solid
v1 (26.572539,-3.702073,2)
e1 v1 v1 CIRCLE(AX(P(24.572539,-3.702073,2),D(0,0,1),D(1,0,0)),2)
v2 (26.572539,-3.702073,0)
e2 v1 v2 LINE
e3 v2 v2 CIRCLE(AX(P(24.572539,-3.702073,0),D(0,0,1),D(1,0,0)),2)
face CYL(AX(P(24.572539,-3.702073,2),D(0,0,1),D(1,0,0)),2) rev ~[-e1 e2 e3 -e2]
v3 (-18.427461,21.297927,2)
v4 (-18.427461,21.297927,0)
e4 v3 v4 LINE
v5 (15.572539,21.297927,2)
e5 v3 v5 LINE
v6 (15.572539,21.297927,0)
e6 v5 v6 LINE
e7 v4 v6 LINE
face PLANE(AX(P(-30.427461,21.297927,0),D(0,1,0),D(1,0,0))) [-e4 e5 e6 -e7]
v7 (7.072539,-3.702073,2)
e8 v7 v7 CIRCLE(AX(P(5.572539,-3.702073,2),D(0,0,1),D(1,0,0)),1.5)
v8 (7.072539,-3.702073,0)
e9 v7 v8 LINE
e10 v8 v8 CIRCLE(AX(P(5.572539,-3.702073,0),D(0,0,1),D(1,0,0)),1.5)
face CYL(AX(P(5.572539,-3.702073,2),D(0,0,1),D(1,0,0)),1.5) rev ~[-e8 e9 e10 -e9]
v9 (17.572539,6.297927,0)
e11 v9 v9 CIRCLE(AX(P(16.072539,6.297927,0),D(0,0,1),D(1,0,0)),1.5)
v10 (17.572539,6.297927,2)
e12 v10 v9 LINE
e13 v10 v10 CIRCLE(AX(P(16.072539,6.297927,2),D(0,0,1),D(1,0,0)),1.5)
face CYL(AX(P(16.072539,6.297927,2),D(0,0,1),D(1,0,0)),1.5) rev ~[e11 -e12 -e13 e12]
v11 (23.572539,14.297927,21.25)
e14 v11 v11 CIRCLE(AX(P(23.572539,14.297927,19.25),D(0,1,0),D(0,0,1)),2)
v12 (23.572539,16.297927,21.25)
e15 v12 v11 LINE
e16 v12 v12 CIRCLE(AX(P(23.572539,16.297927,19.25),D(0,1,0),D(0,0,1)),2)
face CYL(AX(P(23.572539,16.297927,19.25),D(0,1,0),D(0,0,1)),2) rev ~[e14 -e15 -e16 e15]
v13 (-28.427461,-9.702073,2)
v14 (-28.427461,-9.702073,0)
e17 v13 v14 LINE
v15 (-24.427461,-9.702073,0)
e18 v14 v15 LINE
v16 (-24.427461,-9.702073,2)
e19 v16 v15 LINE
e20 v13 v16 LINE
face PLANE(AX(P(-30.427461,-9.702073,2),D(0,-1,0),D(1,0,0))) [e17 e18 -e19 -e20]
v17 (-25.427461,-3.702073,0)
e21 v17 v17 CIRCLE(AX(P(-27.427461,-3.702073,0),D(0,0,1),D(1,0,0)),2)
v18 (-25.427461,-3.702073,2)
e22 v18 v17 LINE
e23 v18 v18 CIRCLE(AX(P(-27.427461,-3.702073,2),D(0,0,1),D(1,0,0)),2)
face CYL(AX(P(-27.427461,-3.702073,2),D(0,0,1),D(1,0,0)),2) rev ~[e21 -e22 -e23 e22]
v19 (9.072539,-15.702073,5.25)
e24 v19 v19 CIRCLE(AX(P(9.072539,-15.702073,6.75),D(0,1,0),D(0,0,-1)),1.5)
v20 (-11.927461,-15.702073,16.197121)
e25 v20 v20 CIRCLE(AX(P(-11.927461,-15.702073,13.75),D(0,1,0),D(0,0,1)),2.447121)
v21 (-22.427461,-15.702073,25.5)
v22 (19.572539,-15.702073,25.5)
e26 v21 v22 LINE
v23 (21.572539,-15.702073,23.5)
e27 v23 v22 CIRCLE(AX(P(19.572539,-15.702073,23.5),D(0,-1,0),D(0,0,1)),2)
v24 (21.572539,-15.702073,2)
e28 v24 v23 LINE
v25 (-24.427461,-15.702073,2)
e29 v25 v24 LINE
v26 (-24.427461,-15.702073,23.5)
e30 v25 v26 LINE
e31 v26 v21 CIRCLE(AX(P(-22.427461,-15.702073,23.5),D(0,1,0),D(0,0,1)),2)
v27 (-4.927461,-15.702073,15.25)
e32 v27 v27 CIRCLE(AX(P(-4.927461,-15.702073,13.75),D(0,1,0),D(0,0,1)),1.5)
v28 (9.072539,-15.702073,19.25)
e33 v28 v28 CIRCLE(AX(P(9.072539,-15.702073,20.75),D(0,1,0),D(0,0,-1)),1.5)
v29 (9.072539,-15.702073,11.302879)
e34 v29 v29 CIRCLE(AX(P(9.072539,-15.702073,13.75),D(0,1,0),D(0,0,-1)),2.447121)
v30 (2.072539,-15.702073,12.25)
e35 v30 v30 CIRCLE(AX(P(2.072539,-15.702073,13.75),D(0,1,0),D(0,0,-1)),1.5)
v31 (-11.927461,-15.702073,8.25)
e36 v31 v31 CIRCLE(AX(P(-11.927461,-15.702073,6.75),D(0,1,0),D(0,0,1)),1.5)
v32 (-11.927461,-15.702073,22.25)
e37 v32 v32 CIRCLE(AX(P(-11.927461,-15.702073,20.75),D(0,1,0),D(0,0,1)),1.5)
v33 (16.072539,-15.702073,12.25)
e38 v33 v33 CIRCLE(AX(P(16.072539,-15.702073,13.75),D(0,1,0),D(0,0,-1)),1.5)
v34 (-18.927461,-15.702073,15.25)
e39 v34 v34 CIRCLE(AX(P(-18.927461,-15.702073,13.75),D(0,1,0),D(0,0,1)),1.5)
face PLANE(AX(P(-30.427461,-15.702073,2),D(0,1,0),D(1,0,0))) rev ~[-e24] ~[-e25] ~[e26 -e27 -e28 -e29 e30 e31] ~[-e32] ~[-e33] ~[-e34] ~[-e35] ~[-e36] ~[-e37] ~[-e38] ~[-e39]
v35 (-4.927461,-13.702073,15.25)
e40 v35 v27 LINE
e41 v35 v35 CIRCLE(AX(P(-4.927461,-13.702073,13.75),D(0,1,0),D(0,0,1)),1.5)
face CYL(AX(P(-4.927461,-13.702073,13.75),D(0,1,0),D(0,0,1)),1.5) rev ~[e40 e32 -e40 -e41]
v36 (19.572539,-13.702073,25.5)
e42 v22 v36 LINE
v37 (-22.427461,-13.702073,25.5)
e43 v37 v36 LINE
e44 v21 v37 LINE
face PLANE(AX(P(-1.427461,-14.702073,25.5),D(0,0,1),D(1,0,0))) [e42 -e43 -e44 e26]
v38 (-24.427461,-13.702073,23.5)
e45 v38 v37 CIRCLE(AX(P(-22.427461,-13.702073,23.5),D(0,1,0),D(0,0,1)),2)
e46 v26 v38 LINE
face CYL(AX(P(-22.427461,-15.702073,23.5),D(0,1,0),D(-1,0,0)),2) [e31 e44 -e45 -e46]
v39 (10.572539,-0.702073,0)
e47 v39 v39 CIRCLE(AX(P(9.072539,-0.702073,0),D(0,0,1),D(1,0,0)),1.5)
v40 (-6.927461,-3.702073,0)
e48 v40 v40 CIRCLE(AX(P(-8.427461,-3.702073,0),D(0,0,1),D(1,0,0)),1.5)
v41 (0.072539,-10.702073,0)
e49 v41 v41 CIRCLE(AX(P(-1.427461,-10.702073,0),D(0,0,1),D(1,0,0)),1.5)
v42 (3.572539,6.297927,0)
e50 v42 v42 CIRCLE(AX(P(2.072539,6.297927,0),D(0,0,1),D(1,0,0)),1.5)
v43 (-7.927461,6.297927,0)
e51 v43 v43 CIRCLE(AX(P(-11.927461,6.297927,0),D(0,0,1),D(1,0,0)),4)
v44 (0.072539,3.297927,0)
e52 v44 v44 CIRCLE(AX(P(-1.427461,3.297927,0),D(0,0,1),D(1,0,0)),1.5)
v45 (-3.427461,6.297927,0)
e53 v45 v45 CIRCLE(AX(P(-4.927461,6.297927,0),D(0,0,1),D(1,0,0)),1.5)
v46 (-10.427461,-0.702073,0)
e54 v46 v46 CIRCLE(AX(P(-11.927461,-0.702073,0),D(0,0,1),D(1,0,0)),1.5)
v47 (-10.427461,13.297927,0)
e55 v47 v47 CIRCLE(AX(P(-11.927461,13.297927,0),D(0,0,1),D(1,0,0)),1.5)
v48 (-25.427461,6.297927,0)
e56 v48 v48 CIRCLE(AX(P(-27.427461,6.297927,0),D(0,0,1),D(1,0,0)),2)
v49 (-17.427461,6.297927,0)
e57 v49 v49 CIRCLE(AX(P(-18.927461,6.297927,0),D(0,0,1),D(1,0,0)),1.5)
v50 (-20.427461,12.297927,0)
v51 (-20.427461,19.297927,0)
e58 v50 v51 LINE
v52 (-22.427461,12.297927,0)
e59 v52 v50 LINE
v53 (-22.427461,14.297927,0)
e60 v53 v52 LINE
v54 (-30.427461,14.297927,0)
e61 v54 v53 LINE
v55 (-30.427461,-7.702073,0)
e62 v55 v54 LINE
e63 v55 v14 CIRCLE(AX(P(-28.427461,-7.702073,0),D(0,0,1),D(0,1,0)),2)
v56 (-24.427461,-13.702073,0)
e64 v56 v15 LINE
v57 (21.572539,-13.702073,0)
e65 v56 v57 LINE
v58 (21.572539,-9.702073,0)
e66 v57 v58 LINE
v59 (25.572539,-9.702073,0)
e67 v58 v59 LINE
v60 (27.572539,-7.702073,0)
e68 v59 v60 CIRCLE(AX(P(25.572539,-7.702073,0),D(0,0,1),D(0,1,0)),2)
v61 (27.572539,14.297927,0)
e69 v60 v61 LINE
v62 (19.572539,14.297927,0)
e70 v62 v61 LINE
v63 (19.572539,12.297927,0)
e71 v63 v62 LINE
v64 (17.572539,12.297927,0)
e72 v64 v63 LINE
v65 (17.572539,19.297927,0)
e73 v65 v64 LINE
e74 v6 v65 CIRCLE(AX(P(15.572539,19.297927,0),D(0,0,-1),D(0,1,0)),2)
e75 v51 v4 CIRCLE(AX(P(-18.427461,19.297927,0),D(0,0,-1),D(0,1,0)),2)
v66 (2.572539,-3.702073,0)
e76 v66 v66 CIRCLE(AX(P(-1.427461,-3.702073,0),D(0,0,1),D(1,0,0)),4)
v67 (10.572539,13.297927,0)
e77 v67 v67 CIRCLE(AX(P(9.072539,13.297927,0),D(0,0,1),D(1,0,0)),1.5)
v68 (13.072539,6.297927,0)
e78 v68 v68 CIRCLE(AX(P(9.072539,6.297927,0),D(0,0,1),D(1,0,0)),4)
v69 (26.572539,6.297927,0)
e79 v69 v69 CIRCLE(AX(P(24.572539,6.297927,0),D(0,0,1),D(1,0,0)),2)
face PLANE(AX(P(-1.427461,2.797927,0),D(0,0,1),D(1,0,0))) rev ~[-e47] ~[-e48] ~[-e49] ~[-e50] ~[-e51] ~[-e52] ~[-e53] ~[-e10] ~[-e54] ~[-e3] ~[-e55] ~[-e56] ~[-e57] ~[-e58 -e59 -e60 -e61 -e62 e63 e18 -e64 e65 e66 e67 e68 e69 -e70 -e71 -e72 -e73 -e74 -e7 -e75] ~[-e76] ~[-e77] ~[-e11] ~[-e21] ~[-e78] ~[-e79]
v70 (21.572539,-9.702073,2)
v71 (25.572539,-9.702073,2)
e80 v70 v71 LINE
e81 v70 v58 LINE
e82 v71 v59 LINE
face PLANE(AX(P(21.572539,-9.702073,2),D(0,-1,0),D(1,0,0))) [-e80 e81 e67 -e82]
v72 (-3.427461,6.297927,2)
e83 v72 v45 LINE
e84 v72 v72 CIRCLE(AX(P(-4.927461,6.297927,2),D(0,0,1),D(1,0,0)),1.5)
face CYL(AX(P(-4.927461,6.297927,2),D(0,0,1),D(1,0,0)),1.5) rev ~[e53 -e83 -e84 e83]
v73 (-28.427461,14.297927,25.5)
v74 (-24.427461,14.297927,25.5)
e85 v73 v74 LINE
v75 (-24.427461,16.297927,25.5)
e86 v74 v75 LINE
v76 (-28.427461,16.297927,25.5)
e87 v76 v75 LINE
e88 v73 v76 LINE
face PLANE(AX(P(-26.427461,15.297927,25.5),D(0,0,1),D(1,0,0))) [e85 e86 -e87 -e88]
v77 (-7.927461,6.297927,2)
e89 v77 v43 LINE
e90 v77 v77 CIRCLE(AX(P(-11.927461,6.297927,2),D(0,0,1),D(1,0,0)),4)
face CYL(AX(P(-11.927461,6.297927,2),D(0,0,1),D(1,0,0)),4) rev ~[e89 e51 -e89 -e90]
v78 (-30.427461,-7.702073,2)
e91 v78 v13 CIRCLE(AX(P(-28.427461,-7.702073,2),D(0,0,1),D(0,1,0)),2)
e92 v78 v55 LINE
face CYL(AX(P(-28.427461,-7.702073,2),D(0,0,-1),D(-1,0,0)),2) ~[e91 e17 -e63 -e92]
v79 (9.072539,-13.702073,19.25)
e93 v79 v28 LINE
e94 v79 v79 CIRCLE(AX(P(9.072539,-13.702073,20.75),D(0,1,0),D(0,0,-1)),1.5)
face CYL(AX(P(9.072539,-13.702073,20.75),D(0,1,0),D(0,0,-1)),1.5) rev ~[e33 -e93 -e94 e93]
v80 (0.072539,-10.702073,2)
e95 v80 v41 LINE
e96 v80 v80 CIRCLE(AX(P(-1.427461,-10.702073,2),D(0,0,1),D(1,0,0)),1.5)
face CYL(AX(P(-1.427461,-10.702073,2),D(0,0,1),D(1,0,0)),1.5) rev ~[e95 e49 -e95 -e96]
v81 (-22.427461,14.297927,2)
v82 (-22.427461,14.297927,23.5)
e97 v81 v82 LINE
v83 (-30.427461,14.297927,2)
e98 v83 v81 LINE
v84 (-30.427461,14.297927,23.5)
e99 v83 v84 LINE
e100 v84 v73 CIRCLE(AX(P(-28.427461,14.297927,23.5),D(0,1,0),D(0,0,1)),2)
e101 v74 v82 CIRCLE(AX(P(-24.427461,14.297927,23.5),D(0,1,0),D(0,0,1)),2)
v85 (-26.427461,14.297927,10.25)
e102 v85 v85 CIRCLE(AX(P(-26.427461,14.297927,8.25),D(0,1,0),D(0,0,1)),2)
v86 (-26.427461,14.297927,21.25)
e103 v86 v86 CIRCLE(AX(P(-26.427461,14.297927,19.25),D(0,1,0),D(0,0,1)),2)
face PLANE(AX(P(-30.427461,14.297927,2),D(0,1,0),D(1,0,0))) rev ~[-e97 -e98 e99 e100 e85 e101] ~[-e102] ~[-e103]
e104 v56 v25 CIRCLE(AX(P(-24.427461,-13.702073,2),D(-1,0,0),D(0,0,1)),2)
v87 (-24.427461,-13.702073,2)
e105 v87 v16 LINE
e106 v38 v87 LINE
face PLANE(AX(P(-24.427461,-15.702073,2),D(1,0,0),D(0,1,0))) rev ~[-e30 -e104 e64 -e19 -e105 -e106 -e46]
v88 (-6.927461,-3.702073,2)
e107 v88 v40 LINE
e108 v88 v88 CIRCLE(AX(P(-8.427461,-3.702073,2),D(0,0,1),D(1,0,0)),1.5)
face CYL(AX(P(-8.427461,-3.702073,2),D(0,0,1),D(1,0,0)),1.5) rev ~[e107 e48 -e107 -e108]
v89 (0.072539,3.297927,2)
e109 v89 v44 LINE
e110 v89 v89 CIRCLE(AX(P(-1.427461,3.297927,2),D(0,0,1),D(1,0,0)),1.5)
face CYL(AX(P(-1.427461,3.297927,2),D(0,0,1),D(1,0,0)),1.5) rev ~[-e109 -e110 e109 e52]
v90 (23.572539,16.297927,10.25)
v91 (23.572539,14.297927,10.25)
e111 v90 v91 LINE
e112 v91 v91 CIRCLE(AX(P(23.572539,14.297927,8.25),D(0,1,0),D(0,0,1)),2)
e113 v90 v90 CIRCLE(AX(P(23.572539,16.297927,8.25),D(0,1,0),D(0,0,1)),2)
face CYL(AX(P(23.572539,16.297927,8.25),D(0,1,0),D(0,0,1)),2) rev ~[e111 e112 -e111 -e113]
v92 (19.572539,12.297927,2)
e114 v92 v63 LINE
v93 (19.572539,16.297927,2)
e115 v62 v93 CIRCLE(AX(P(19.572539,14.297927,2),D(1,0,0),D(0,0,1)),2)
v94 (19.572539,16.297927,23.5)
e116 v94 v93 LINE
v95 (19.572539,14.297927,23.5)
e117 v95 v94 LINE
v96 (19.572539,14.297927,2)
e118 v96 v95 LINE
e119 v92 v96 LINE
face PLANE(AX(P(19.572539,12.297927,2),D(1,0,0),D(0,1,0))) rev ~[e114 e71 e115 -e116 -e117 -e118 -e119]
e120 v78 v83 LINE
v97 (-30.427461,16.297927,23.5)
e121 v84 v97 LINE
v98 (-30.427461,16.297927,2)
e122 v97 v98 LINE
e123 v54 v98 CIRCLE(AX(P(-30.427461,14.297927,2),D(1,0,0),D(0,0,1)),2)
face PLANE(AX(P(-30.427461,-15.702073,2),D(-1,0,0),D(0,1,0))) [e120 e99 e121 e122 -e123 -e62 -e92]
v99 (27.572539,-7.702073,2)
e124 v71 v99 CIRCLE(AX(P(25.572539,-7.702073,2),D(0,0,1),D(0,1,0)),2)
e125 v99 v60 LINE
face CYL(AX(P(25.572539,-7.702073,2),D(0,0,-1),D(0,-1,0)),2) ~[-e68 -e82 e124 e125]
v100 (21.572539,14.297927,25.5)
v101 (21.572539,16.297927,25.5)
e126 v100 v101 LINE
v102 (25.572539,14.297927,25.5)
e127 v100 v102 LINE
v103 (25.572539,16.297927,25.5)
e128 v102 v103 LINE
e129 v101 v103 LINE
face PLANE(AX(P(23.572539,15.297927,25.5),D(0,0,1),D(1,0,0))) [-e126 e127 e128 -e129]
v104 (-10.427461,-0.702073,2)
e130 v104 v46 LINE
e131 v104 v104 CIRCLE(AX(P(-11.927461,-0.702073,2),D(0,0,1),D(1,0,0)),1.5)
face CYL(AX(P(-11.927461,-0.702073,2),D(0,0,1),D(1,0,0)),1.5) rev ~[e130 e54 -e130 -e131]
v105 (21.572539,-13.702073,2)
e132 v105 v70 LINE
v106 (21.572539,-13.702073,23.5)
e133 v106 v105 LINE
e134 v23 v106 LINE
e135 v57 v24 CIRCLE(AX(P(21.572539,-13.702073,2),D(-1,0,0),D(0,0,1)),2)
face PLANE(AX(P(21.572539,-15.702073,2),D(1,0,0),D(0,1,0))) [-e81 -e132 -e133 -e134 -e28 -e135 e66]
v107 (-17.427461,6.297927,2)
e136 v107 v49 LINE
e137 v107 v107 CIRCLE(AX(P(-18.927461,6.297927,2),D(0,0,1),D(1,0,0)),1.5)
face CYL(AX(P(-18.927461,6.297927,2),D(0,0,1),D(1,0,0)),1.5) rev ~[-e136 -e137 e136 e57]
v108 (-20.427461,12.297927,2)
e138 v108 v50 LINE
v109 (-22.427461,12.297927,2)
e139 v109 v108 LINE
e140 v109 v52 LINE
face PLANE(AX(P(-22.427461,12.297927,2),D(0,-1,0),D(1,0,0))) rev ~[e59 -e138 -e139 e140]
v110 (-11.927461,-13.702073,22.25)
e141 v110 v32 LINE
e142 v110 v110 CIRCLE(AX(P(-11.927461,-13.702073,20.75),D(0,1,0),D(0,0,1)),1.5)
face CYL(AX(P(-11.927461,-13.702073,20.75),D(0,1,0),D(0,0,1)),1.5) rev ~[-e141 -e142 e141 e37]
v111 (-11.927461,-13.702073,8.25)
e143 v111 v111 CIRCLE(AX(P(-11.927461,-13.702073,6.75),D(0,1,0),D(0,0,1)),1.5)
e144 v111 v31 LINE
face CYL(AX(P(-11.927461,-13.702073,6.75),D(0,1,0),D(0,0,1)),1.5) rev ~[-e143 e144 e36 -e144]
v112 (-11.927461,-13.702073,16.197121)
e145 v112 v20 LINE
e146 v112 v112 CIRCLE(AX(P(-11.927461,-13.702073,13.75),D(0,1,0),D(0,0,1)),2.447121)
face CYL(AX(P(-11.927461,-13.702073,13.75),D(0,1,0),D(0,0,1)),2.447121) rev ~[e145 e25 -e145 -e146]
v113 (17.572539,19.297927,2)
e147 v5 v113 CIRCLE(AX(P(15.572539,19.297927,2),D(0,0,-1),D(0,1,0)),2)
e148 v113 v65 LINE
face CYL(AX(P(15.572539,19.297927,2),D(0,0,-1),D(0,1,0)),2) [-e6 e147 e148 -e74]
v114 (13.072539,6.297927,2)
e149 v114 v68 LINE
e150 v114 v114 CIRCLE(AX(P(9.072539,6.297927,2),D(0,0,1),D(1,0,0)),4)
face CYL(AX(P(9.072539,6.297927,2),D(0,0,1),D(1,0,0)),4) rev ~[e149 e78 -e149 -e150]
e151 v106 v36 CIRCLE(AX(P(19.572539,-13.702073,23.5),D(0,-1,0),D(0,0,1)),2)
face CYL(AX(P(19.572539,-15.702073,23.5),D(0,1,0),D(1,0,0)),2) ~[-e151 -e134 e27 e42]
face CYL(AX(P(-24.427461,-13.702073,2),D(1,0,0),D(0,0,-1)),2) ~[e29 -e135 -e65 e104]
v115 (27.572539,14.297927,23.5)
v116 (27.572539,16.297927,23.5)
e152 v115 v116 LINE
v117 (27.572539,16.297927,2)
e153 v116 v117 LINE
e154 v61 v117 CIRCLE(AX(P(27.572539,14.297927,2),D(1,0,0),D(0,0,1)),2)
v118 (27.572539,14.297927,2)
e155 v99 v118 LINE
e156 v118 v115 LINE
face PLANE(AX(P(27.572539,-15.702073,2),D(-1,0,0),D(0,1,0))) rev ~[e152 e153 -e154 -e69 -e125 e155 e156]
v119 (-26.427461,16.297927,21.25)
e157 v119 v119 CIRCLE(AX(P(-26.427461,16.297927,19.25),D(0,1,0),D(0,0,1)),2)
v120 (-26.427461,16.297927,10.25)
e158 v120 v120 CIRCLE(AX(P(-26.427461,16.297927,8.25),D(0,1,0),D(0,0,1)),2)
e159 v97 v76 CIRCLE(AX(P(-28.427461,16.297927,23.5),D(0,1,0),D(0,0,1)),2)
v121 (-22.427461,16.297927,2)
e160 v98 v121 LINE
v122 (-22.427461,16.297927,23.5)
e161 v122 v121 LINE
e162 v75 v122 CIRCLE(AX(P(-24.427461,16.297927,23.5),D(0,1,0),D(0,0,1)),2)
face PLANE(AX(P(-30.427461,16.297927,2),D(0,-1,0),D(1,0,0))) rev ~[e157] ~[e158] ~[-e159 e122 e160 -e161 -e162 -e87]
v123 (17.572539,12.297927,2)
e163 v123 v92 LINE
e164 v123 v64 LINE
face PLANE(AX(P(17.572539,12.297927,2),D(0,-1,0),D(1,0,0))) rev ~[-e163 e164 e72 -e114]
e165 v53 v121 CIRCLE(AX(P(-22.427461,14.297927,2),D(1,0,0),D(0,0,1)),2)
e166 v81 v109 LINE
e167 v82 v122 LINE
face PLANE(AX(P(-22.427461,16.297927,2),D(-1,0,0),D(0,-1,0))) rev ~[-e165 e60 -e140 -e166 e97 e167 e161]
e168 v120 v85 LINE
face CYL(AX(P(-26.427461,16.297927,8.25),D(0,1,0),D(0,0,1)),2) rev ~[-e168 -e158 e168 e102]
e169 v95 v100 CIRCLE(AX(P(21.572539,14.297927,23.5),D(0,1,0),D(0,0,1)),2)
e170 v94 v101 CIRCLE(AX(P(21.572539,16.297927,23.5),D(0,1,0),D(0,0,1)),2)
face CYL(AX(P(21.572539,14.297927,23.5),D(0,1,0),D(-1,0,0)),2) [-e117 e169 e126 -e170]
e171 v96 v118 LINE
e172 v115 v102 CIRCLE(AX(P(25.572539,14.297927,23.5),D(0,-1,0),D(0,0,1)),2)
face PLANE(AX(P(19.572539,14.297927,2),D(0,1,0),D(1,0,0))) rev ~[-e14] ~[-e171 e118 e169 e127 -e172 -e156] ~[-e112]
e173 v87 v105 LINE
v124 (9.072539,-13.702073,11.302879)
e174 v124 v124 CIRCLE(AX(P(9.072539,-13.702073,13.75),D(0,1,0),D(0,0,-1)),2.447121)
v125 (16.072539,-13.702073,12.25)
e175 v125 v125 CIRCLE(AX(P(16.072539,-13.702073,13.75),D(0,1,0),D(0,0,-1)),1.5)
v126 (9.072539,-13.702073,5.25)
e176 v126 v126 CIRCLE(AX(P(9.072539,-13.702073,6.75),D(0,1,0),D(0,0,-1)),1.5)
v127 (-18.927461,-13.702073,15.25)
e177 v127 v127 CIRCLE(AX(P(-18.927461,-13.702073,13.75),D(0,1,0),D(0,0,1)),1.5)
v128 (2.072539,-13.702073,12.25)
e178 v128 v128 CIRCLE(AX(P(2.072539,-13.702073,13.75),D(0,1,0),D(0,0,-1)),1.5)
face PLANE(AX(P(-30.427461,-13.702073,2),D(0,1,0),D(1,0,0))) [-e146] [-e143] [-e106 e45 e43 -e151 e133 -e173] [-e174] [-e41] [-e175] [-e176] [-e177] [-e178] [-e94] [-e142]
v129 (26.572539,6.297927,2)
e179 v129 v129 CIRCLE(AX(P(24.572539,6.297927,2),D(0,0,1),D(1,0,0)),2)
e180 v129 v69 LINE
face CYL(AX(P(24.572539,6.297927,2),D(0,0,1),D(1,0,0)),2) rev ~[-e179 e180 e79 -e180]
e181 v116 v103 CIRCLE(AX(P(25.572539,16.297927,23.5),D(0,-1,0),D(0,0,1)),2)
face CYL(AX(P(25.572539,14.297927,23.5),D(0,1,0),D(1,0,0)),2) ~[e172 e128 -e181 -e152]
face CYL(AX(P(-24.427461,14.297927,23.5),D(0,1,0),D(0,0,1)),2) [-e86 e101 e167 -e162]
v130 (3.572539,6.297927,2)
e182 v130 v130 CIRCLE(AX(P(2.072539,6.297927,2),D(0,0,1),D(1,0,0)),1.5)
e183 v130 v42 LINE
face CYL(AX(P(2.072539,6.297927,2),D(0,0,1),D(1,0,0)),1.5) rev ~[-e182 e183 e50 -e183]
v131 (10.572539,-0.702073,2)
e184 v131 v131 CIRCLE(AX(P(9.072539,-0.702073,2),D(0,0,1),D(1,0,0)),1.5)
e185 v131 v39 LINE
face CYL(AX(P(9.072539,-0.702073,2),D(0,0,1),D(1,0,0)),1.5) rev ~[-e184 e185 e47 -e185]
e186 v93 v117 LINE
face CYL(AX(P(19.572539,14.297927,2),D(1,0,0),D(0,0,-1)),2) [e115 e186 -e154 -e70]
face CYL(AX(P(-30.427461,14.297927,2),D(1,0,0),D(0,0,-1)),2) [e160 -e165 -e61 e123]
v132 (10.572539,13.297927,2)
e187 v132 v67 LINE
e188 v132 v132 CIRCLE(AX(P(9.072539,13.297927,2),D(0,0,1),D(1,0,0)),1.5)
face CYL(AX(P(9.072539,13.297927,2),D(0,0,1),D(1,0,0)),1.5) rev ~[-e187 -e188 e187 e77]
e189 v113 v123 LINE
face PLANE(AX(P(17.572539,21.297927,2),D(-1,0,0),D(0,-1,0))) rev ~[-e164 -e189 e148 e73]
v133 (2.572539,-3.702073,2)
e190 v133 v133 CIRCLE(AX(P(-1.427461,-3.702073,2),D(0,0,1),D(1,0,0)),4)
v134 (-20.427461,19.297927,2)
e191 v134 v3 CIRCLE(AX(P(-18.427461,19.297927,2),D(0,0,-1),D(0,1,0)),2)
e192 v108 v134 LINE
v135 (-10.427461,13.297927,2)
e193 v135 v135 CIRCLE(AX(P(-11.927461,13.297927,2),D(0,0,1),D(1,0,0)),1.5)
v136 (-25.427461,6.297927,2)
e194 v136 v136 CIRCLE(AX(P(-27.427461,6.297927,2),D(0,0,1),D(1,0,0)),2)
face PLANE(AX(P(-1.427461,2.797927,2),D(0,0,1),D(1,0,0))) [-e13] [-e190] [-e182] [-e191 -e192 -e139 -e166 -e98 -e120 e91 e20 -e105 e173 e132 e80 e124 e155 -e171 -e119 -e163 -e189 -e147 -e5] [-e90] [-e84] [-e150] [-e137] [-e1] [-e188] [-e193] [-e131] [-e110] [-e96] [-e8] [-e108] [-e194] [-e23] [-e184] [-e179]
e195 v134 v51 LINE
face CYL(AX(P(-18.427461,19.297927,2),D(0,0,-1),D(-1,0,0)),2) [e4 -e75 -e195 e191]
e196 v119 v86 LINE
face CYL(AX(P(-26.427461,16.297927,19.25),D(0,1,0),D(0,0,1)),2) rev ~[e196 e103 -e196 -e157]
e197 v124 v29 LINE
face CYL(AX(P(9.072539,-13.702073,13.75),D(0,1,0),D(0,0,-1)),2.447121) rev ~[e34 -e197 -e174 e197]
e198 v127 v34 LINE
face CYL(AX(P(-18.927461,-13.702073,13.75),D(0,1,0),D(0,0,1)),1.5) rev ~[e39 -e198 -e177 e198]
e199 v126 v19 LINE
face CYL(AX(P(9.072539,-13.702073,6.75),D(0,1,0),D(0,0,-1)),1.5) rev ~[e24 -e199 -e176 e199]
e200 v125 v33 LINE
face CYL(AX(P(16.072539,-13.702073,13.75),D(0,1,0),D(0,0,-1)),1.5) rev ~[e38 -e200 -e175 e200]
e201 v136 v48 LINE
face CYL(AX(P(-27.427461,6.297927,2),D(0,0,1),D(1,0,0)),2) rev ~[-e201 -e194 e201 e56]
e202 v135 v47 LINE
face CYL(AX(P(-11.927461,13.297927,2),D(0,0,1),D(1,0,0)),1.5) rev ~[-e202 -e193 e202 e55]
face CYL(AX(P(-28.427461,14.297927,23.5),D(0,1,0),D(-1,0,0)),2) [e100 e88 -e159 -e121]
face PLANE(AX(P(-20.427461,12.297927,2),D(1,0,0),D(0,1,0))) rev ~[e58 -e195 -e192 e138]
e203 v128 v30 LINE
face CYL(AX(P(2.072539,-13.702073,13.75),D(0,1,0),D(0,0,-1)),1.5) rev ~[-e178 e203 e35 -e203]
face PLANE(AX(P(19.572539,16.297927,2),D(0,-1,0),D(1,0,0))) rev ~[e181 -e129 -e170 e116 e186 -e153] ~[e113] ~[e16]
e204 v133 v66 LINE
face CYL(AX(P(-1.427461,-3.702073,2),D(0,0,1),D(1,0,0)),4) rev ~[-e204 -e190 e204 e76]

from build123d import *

# Parameters (mm, degrees)
SKETCH_3_W             = 58
SKETCH_3_H             = 37
EXTRUDE_1_DEPTH        = 2
SKETCH_4_W             = 58
SKETCH_4_H             = 2
EXTRUDE_2_DEPTH        = 23.5
SKETCH_5_W             = 8
SKETCH_5_H             = 2
EXTRUDE_3_DEPTH        = 23.5
PATTERN_LINEAR_1_COUNT = 2
PATTERN_LINEAR_1_PITCH = 50
SKETCH_6_W             = 6
SKETCH_6_H             = 6
CUT_EXTRUDE_1_DEPTH    = 44.950905628
PATTERN_LINEAR_2_COUNT = 2
PATTERN_LINEAR_2_PITCH = 52
CUT_EXTRUDE_2_DEPTH    = 23.5
CUT_EXTRUDE_3_DEPTH    = 23.5
SKETCH_9_R             = 2
SKETCH_9_R_2           = 4
SKETCH_9_R_3           = 1.5
CUT_EXTRUDE_4_DEPTH    = 23.5
SKETCH_11_R            = 2.447120917
SKETCH_11_R_2          = 1.5
CUT_EXTRUDE_5_DEPTH    = 53.925233976
FILLET_1_R             = 2
SKETCH_12_R            = 2
CUT_EXTRUDE_6_DEPTH    = 23.5


with BuildPart() as part:
    # 草图3 → 凸台-拉伸1 (new body)
    with BuildSketch(Plane.XY):
        with Locations((-1.42746114, 2.797927461)):
            Rectangle(SKETCH_3_W, SKETCH_3_H)
    extrude(amount=EXTRUDE_1_DEPTH)

    # 草图4 → 凸台-拉伸2 (add)
    with BuildSketch(Plane.XY.offset(2)):
        with Locations((-1.42746114, -14.702072539)):
            Rectangle(SKETCH_4_W, SKETCH_4_H)
    extrude(amount=EXTRUDE_2_DEPTH)

    # 草图5 → 凸台-拉伸3 (add)
    with BuildSketch(Plane.XY.offset(2)):
        with Locations((-26.42746114, 15.297927461)):
            Rectangle(SKETCH_5_W, SKETCH_5_H)
    extrude_3 = extrude(amount=EXTRUDE_3_DEPTH)

    # 阵列(线性)1: 凸台-拉伸3 ×2
    with Locations(*[(i * PATTERN_LINEAR_1_PITCH, 0, 0) for i in range(1, PATTERN_LINEAR_1_COUNT)]):
        add(extrude_3)

    # 草图6 → 切除-拉伸1 (cut, symmetric)
    with BuildSketch(Plane.XY.offset(2)):
        with Locations((-27.42746114, -12.702072539)):
            Rectangle(SKETCH_6_W, SKETCH_6_H)
    cut_extrude_1 = extrude(amount=CUT_EXTRUDE_1_DEPTH, both=True, mode=Mode.SUBTRACT)

    # 阵列(线性)2: 切除-拉伸1 ×2
    with Locations(*[(i * PATTERN_LINEAR_2_PITCH, 0, 0) for i in range(1, PATTERN_LINEAR_2_COUNT)]):
        add(cut_extrude_1, mode=Mode.SUBTRACT)

    # 草图7 → 切除-拉伸2 (cut)
    with BuildSketch(Plane.XY.offset(2)):
        Polygon((-30.42746114, 21.297927461), (-30.42746114, 16.297927461), (-22.42746114, 16.297927461), (-22.42746114, 14.297927461), (-22.42746114, 12.297927461), (-20.42746114, 12.297927461), (-20.42746114, 21.297927461), align=None)
    extrude(amount=-CUT_EXTRUDE_2_DEPTH, mode=Mode.SUBTRACT)

    # 草图8 → 切除-拉伸3 (cut)
    with BuildSketch(Plane.XY.offset(2)):
        Polygon((27.57253886, 16.297927461), (27.57253886, 21.297927461), (17.57253886, 21.297927461), (17.57253886, 12.297927461), (19.57253886, 12.297927461), (19.57253886, 16.297927461), align=None)
    extrude(amount=-CUT_EXTRUDE_3_DEPTH, mode=Mode.SUBTRACT)

    # 草图9 → 切除-拉伸4 (cut)
    with BuildSketch(Plane.XY.offset(2)):
        with Locations((-27.42746114, 6.297927461)):
            Circle(SKETCH_9_R)
        with Locations((-27.42746114, -3.702072539)):
            Circle(SKETCH_9_R)
        with Locations((-11.92746114, 6.297927461)):
            Circle(SKETCH_9_R_2)
        with Locations((-1.42746114, -3.702072539)):
            Circle(SKETCH_9_R_2)
        with Locations((-1.42746114, 3.297927461)):
            Circle(SKETCH_9_R_3)
        with Locations((-1.42746114, -10.702072539)):
            Circle(SKETCH_9_R_3)
        with Locations((-11.92746114, -0.702072539)):
            Circle(SKETCH_9_R_3)
        with Locations((-11.92746114, 13.297927461)):
            Circle(SKETCH_9_R_3)
        with Locations((-18.92746114, 6.297927461)):
            Circle(SKETCH_9_R_3)
        with Locations((-4.92746114, 6.297927461)):
            Circle(SKETCH_9_R_3)
        with Locations((-8.42746114, -3.702072539)):
            Circle(SKETCH_9_R_3)
        with Locations((5.57253886, -3.702072539)):
            Circle(SKETCH_9_R_3)
        with Locations((9.07253886, 13.297927461)):
            Circle(SKETCH_9_R_3)
        with Locations((2.07253886, 6.297927461)):
            Circle(SKETCH_9_R_3)
        with Locations((9.07253886, -0.702072539)):
            Circle(SKETCH_9_R_3)
        with Locations((9.07253886, 6.297927461)):
            Circle(SKETCH_9_R_2)
        with Locations((16.07253886, 6.297927461)):
            Circle(SKETCH_9_R_3)
        with Locations((24.57253886, -3.702072539)):
            Circle(SKETCH_9_R)
        with Locations((24.57253886, 6.297927461)):
            Circle(SKETCH_9_R)
    extrude(amount=-CUT_EXTRUDE_4_DEPTH, mode=Mode.SUBTRACT)

    # 草图11 → 切除-拉伸5 (cut, through all)
    with BuildSketch(Plane(origin=(0, -13.702072539, 0), x_dir=(1, 0, 0), z_dir=(0, 1, 0))):
        with Locations(Location((-11.92746114, -13.75, 0), (0, 0, 270))):
            Circle(SKETCH_11_R)
        with Locations(Location((-18.92746114, -13.75, 0), (0, 0, 270))):
            Circle(SKETCH_11_R_2)
        with Locations(Location((-11.92746114, -20.75, 0), (0, 0, 270))):
            Circle(SKETCH_11_R_2)
        with Locations(Location((-4.92746114, -13.75, 0), (0, 0, 270))):
            Circle(SKETCH_11_R_2)
        with Locations(Location((-11.92746114, -6.75, 0), (0, 0, 270))):
            Circle(SKETCH_11_R_2)
        with Locations(Location((9.07253886, -20.75, 0), (0, 0, 90))):
            Circle(SKETCH_11_R_2)
        with Locations(Location((2.07253886, -13.75, 0), (0, 0, 90))):
            Circle(SKETCH_11_R_2)
        with Locations(Location((9.07253886, -6.75, 0), (0, 0, 90))):
            Circle(SKETCH_11_R_2)
        with Locations(Location((9.07253886, -13.75, 0), (0, 0, 90))):
            Circle(SKETCH_11_R)
        with Locations(Location((16.07253886, -13.75, 0), (0, 0, 90))):
            Circle(SKETCH_11_R_2)
    extrude(amount=-CUT_EXTRUDE_5_DEPTH, mode=Mode.SUBTRACT)

    # 圆角1
    fillet_1_edges = [part.edges().sort_by_distance(p)[0] for p in [
        (-1.42746114, -15.702072539, 0),
        (-30.42746114, -9.702072539, 1),
        (27.57253886, -9.702072539, 1),
        (-20.42746114, 21.297927461, 1),
        (17.57253886, 21.297927461, 1),
        (23.57253886, 16.297927461, 0),
        (-26.42746114, 16.297927461, 0),
        (27.57253886, 15.297927461, 25.5),
        (19.57253886, 15.297927461, 25.5),
        (21.57253886, -14.702072539, 25.5),
        (-24.42746114, -14.702072539, 25.5),
        (-22.42746114, 15.297927461, 25.5),
        (-30.42746114, 15.297927461, 25.5),
    ]]
    fillet(fillet_1_edges, radius=FILLET_1_R)

    # 草图12 → 切除-拉伸6 (cut)
    with BuildSketch(Plane(origin=(0, 16.297927461, 0), x_dir=(1, 0, 0), z_dir=(0, 1, 0))):
        with Locations(Location((-26.42746114, -19.25, 0), (0, 0, 270))):
            Circle(SKETCH_12_R)
        with Locations(Location((-26.42746114, -8.25, 0), (0, 0, 270))):
            Circle(SKETCH_12_R)
        with Locations(Location((23.57253886, -19.25, 0), (0, 0, 270))):
            Circle(SKETCH_12_R)
        with Locations(Location((23.57253886, -8.25, 0), (0, 0, 270))):
            Circle(SKETCH_12_R)
    extrude(amount=-CUT_EXTRUDE_6_DEPTH, mode=Mode.SUBTRACT)


solid = part.part
